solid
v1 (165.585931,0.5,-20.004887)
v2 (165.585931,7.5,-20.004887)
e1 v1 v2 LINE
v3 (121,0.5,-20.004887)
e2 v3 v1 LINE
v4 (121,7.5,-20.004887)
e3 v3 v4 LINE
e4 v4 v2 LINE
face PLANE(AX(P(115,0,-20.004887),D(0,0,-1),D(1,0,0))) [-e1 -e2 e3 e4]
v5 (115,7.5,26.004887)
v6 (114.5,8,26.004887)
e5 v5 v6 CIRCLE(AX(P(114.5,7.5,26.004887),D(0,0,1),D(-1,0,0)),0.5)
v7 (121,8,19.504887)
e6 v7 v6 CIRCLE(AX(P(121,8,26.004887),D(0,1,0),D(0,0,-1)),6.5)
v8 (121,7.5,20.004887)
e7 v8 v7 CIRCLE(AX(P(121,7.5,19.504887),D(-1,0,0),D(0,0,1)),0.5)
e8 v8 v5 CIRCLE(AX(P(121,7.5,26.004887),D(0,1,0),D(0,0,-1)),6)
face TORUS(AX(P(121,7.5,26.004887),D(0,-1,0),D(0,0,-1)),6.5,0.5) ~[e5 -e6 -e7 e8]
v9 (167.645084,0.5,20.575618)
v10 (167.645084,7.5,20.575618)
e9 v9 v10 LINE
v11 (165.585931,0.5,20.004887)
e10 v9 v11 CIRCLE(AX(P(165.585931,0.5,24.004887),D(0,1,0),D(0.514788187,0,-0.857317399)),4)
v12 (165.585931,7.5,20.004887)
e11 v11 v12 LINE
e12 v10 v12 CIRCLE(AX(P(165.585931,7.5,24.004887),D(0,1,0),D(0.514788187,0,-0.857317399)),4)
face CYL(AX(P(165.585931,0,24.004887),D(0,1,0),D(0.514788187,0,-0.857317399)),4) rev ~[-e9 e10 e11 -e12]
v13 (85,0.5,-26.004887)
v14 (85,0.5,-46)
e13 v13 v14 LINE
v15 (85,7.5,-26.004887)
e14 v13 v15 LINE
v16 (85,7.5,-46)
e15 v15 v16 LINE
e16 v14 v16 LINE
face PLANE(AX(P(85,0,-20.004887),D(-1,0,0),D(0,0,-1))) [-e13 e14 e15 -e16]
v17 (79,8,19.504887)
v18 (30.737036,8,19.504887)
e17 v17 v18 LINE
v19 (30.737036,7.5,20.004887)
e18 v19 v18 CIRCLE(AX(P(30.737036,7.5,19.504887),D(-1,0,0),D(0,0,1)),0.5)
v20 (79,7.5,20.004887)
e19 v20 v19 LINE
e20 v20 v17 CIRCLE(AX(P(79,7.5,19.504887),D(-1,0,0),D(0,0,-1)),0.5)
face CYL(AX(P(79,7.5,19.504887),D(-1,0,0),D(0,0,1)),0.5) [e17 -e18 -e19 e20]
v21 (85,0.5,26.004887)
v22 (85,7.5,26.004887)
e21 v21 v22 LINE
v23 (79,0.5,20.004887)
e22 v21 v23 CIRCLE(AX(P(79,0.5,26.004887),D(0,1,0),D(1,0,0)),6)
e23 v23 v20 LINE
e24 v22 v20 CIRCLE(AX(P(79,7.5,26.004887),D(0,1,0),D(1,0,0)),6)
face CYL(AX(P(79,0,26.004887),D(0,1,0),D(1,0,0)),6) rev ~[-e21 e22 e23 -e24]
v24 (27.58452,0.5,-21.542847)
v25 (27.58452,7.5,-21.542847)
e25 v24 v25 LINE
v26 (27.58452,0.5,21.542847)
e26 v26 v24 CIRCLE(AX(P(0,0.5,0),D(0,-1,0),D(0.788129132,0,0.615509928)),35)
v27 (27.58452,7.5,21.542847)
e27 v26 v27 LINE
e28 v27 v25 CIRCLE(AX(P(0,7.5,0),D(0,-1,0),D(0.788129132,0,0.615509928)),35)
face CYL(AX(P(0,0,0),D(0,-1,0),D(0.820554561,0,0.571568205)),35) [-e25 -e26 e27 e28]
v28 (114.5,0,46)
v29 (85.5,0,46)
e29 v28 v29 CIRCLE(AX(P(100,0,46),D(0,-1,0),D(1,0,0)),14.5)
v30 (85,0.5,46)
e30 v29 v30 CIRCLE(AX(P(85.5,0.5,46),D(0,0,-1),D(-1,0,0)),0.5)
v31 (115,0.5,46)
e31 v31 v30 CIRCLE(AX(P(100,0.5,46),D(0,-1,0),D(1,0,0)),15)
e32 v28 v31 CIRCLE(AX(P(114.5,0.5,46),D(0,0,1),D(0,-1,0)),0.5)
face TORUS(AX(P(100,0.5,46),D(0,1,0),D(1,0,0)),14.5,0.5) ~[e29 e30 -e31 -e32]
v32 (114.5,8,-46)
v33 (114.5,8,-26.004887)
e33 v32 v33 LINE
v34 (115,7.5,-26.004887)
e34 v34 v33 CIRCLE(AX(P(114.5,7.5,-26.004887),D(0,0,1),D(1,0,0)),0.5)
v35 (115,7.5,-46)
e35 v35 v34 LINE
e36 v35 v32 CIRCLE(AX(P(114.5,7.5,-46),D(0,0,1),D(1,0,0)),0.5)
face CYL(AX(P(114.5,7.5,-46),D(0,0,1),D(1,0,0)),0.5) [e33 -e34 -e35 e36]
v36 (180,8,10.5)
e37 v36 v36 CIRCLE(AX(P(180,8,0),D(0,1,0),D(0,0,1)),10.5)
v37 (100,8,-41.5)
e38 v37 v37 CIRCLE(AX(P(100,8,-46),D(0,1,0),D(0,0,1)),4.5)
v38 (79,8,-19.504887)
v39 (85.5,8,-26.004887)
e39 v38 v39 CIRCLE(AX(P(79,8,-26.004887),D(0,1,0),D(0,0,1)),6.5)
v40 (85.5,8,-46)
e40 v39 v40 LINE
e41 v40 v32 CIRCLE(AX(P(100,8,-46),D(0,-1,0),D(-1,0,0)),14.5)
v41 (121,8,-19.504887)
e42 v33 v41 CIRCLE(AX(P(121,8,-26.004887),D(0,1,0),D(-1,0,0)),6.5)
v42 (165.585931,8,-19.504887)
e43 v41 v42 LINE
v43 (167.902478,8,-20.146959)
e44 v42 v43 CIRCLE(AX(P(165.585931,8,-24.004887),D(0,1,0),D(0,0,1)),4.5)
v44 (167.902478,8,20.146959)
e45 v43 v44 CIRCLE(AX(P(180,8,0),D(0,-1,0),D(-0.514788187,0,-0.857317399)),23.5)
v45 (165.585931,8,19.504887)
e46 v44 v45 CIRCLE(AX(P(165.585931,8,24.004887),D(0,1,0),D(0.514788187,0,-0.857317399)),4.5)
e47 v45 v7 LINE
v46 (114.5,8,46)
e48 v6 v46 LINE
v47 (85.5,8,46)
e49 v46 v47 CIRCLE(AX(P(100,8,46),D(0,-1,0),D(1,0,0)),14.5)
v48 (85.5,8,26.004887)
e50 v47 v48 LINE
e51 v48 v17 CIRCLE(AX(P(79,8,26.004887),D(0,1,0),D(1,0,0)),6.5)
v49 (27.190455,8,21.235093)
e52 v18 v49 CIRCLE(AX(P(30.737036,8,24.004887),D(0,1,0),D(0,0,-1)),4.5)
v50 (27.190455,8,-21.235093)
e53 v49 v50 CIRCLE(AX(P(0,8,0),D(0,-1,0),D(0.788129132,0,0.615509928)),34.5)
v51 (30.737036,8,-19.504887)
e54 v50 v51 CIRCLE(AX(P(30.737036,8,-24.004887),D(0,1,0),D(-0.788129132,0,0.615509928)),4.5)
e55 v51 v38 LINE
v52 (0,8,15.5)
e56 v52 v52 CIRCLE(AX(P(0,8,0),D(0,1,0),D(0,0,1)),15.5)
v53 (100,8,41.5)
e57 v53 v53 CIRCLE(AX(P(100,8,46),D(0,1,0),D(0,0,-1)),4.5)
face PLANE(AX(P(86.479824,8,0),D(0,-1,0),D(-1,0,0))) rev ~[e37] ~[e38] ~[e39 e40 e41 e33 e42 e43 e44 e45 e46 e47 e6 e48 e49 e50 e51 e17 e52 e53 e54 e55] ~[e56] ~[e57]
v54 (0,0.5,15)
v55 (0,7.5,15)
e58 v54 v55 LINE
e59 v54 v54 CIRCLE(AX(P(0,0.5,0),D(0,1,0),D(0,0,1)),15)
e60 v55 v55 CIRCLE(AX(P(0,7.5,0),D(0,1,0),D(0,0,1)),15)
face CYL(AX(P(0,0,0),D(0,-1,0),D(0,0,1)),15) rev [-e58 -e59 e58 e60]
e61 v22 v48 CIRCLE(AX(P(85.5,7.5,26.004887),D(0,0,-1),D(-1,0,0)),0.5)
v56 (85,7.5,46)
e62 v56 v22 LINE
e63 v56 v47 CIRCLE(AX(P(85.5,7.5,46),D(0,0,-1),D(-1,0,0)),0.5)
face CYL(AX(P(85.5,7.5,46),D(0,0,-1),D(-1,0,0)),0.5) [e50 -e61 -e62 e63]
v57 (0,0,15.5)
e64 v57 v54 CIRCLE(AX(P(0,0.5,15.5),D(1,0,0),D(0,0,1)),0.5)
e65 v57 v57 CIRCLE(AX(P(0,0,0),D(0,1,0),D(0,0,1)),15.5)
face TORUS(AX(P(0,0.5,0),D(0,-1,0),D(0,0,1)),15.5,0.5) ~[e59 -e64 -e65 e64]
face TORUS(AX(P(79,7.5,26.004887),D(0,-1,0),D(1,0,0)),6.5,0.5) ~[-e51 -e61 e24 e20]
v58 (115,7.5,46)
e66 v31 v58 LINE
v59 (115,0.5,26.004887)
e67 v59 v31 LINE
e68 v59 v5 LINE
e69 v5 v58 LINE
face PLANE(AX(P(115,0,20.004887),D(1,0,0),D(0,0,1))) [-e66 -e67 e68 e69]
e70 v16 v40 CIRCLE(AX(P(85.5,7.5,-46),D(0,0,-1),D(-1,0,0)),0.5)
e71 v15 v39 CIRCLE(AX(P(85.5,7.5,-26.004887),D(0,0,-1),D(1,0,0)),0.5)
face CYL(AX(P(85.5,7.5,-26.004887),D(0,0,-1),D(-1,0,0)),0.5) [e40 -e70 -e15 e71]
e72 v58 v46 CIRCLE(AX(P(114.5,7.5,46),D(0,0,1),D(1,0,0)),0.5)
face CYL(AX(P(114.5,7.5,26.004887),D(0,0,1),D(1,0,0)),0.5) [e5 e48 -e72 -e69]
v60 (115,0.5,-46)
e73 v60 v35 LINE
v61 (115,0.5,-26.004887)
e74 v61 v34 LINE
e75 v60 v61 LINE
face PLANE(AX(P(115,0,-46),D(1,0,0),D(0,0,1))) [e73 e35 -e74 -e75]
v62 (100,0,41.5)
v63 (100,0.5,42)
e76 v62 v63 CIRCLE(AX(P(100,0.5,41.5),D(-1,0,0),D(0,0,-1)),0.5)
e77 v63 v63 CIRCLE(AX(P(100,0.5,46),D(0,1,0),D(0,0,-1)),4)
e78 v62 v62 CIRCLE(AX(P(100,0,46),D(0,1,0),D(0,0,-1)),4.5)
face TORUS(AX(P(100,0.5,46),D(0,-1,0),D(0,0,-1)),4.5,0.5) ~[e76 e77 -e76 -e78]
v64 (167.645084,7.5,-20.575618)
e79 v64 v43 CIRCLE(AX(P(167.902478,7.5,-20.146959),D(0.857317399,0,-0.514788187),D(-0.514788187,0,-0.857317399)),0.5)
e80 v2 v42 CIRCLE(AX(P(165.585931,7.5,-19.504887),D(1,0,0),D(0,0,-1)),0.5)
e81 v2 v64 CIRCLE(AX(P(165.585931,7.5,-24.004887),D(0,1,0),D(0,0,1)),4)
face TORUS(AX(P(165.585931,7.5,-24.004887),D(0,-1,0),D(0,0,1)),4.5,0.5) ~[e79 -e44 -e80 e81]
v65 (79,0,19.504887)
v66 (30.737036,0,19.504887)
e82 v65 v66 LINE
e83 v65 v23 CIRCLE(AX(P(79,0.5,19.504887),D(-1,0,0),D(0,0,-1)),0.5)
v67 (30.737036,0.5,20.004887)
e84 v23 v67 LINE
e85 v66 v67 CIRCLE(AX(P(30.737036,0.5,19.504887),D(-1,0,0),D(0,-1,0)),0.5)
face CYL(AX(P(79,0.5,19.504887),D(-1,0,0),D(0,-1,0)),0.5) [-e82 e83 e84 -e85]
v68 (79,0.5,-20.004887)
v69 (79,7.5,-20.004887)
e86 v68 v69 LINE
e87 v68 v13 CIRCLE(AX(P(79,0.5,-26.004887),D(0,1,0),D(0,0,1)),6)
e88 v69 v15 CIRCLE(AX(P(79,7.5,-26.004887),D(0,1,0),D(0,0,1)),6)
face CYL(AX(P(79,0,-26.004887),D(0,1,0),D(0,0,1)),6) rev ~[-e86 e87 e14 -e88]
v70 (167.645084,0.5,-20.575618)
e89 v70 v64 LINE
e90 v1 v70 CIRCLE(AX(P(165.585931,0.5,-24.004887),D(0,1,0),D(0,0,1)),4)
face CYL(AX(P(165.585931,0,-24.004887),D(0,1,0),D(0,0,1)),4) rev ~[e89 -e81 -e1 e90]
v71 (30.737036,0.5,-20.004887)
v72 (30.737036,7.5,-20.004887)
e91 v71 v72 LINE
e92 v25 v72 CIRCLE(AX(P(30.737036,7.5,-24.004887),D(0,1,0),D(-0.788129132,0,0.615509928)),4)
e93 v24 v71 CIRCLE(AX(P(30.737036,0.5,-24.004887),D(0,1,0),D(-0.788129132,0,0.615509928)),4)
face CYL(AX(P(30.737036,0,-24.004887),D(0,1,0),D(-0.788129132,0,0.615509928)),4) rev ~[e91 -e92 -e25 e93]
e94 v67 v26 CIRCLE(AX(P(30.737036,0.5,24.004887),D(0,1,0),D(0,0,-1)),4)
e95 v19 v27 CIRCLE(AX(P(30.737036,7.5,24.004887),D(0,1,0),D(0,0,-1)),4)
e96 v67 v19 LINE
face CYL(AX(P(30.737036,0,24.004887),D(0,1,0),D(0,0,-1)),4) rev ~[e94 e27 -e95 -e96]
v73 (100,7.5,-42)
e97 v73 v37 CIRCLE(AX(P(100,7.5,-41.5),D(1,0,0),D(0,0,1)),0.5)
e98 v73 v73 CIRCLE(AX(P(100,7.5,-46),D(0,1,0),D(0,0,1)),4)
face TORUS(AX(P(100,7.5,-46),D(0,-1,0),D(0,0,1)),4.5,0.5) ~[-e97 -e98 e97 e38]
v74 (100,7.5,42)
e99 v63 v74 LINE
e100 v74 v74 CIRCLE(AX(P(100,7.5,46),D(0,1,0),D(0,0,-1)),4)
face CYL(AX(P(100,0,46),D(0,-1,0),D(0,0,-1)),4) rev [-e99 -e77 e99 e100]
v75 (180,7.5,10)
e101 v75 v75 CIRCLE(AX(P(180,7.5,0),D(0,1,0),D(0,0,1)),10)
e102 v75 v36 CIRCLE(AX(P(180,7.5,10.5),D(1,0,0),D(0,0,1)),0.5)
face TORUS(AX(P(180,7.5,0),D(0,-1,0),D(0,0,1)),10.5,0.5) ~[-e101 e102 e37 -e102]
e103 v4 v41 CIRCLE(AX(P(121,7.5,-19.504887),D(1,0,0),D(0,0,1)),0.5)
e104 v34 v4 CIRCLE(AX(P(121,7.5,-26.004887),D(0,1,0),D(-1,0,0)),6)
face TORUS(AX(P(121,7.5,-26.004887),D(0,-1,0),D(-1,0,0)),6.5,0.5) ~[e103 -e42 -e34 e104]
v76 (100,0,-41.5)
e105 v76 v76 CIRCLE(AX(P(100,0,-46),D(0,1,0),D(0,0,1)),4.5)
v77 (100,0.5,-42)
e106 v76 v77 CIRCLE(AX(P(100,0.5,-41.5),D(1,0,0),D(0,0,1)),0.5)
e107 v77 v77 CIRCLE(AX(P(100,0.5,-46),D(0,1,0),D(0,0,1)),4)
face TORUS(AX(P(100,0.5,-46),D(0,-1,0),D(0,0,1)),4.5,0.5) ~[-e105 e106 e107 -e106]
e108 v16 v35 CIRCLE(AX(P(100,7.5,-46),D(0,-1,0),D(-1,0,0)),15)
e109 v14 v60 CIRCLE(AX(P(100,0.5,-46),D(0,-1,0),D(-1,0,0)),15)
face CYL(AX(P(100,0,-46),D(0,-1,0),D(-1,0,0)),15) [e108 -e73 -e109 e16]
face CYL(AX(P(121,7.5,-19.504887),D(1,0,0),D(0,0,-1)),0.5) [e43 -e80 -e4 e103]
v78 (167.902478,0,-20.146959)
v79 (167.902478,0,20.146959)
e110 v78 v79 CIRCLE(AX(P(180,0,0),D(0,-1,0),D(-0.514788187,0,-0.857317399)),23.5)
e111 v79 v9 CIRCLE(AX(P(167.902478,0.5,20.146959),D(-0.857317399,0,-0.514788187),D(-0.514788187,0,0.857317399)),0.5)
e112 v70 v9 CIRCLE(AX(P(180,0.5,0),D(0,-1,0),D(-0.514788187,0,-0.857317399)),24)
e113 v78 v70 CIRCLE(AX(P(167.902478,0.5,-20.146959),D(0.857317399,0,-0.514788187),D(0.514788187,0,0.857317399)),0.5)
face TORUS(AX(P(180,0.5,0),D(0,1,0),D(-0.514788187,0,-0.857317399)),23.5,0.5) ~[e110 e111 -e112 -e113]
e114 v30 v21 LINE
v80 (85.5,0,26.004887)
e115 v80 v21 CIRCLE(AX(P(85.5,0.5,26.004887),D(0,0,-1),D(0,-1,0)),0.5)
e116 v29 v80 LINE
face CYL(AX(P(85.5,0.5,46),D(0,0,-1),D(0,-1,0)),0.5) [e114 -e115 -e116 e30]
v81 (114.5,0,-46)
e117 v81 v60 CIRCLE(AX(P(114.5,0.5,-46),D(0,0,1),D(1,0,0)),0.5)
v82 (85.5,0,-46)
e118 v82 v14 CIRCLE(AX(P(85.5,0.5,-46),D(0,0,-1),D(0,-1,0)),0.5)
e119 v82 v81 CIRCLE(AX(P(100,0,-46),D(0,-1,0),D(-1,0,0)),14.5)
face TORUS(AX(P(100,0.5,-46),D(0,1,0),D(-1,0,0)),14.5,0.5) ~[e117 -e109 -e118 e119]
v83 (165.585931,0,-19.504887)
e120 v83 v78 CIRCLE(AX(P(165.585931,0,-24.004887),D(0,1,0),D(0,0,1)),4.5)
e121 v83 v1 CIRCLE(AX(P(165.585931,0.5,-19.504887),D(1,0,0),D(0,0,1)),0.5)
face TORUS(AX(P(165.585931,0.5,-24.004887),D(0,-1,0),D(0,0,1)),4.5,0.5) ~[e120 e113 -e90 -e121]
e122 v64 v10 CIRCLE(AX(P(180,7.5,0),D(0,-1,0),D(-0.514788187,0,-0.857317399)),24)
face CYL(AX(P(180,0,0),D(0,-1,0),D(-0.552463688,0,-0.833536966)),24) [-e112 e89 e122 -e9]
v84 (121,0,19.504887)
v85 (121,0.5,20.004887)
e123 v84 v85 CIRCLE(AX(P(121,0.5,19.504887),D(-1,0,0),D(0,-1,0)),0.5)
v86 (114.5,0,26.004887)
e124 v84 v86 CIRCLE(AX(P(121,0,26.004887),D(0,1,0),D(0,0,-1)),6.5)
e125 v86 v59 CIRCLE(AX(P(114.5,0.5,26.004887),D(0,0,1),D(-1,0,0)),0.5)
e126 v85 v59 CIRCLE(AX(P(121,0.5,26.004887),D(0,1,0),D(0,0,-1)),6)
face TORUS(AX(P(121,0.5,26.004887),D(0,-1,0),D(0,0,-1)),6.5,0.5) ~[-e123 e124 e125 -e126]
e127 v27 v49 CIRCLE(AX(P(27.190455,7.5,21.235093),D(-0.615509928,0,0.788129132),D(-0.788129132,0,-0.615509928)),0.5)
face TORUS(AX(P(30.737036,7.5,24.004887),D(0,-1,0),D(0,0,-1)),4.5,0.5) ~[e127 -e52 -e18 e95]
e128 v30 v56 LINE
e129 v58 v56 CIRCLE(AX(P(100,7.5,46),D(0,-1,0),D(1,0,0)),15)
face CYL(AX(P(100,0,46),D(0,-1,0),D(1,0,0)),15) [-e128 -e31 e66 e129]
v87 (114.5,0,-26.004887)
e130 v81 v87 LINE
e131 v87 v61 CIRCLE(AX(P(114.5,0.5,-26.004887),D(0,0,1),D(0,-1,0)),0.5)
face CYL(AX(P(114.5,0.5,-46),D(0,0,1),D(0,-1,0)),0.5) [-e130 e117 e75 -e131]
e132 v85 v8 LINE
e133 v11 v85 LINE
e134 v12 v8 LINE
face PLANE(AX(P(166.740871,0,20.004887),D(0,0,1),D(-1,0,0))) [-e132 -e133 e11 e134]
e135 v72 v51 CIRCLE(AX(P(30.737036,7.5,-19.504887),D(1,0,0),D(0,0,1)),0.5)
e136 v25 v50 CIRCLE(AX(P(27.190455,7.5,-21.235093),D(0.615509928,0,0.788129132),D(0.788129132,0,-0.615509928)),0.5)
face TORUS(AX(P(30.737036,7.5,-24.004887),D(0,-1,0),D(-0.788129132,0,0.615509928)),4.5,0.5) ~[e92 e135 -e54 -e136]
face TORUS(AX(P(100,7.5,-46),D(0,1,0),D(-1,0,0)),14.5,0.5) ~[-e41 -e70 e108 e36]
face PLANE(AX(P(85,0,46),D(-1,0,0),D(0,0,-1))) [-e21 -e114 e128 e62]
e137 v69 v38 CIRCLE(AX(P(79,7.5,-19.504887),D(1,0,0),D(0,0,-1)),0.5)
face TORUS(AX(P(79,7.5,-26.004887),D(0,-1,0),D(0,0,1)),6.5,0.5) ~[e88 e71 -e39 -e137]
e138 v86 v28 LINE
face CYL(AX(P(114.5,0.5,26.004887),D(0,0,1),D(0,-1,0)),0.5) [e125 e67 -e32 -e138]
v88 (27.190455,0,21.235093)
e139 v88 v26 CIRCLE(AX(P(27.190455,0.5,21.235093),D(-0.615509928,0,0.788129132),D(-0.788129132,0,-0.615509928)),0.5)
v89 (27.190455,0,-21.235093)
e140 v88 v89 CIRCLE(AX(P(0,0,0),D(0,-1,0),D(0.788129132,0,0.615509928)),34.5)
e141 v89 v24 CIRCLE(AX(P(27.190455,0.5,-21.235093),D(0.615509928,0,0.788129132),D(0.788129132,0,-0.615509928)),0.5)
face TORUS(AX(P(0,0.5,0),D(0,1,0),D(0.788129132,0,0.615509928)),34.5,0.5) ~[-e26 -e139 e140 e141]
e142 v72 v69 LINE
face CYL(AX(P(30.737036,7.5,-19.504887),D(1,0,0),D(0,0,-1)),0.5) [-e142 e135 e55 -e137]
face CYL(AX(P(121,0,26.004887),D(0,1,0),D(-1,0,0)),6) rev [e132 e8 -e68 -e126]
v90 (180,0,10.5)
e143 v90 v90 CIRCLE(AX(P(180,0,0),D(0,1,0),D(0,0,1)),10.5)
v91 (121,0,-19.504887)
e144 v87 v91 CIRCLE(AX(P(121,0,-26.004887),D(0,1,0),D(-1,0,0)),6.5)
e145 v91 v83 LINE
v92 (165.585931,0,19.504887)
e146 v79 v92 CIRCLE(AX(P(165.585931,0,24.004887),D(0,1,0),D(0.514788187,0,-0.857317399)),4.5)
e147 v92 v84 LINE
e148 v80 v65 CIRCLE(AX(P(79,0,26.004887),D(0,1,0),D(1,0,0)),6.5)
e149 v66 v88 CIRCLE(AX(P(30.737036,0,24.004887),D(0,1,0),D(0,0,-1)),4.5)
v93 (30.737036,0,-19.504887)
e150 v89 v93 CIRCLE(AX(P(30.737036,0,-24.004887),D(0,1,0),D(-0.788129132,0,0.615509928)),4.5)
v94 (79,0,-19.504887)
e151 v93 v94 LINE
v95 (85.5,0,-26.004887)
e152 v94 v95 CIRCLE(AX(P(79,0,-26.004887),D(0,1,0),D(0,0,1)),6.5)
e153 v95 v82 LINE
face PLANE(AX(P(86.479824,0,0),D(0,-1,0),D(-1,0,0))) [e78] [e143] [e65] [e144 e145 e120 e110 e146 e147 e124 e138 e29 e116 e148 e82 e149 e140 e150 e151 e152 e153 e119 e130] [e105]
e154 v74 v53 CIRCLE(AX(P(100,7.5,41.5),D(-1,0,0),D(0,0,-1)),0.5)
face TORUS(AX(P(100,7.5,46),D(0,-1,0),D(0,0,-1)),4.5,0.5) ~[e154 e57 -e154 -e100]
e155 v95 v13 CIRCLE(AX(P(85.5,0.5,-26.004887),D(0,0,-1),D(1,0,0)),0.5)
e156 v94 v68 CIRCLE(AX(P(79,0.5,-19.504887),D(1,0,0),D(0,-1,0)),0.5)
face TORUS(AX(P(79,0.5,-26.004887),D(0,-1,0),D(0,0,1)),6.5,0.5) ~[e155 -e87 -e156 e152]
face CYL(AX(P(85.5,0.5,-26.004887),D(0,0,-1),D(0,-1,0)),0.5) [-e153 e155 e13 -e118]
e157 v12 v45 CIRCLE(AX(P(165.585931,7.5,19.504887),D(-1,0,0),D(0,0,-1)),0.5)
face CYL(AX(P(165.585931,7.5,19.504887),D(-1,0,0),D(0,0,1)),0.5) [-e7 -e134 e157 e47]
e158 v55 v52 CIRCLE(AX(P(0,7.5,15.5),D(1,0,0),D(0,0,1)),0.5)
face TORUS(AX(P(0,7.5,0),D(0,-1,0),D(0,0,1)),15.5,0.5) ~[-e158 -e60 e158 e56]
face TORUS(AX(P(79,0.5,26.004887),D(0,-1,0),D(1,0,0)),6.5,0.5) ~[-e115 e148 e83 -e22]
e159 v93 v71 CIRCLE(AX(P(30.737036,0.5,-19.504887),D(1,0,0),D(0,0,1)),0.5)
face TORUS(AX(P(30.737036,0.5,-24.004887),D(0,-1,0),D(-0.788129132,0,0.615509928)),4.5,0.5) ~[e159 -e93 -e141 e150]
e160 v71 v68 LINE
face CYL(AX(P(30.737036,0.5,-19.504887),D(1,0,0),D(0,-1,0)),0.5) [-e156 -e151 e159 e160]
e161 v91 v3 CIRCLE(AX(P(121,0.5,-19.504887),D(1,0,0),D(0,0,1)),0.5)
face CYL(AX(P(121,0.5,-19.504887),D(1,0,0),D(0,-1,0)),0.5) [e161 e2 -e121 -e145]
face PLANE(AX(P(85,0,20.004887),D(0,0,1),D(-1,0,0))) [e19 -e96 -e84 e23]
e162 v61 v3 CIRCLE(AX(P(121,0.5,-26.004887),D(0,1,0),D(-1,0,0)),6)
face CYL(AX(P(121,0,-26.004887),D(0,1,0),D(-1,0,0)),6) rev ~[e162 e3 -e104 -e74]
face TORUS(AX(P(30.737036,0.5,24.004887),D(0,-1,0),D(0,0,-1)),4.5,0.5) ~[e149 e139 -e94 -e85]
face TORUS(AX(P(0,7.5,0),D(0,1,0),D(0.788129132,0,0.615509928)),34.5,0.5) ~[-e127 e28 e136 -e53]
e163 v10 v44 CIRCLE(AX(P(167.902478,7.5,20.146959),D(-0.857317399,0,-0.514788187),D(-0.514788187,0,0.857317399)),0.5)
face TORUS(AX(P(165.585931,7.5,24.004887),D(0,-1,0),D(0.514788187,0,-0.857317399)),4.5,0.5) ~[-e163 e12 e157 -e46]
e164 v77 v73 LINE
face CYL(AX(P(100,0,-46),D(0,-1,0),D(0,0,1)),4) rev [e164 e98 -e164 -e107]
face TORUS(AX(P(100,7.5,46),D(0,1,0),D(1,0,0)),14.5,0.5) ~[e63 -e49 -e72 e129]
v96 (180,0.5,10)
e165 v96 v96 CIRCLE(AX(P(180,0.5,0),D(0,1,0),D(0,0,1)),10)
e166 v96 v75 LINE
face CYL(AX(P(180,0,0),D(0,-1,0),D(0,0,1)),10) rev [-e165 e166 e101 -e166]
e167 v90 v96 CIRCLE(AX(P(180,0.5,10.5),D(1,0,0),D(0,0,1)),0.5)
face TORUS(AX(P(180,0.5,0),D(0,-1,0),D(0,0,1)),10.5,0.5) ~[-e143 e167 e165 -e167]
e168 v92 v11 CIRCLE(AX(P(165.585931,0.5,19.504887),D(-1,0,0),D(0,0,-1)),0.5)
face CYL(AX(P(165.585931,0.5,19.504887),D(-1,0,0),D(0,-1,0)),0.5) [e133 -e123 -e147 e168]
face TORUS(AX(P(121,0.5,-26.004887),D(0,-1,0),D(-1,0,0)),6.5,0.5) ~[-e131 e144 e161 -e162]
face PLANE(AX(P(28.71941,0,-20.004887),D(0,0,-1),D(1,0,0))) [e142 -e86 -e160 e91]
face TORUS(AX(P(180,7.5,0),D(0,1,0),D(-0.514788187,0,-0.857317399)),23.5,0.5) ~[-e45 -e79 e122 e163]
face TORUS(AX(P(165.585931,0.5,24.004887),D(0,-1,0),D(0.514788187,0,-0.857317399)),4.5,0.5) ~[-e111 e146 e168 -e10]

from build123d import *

# Parameters (mm, degrees)
SKETCH_1_R      = 15
SKETCH_1_R_2    = 4
SKETCH_1_R_3    = 10
EXTRUDE_1_DEPTH = 8
FILLET_3_R      = 6
FILLET_4_R      = 6
FILLET_5_R      = 6
FILLET_6_R      = 6
FILLET_8_R      = 4
FILLET_9_R      = 4
FILLET_10_R     = 4
FILLET_11_R     = 4
FILLET_12_R     = 0.5


with BuildPart() as part:
    # 草图1 → 凸台-拉伸1 (new body)
    with BuildSketch(Plane(origin=(0, 0, 0), x_dir=(1, 0, 0), z_dir=(0, 1, 0))):
        with BuildLine():
            Line((28.719409623, 20.004887175), (85, 20.004887175))
            Line((85, 20.004887175), (85, 46))
            ThreePointArc((85, 46), (100, 61), (115, 46))
            Line((115, 46), (115, 20.004887175))
            Line((115, 20.004887175), (166.74087148, 20.004887175))
            ThreePointArc((166.74087148, 20.004887175), (204, 0), (166.74087148, -20.004887175))
            Line((166.74087148, -20.004887175), (115, -20.004887175))
            Line((115, -20.004887175), (115, -46))
            ThreePointArc((115, -46), (100, -61), (85, -46))
            Line((85, -46), (85, -20.004887175))
            Line((85, -20.004887175), (28.719409623, -20.004887175))
            ThreePointArc((28.719409623, -20.004887175), (-35, 0), (28.719409623, 20.004887175))
        make_face()
        with Locations(Location((0, 0, 0), (0, 0, 270))):
            Circle(SKETCH_1_R, mode=Mode.SUBTRACT)
        with Locations(Location((100, 46, 0), (0, 0, 270))):
            Circle(SKETCH_1_R_2, mode=Mode.SUBTRACT)
        with Locations(Location((180, 0, 0), (0, 0, 270))):
            Circle(SKETCH_1_R_3, mode=Mode.SUBTRACT)
        with Locations(Location((100, -46, 0), (0, 0, 90))):
            Circle(SKETCH_1_R_2, mode=Mode.SUBTRACT)
    extrude(amount=EXTRUDE_1_DEPTH)

    # 圆角3
    fillet_3_edges = [part.edges().sort_by_distance(p)[0] for p in [
        (115, 4, 20.004887175),
    ]]
    fillet(fillet_3_edges, radius=FILLET_3_R)

    # 圆角4
    fillet_4_edges = [part.edges().sort_by_distance(p)[0] for p in [
        (85, 4, 20.004887175),
    ]]
    fillet(fillet_4_edges, radius=FILLET_4_R)

    # 圆角5
    fillet_5_edges = [part.edges().sort_by_distance(p)[0] for p in [
        (85, 4, -20.004887175),
    ]]
    fillet(fillet_5_edges, radius=FILLET_5_R)

    # 圆角6
    fillet_6_edges = [part.edges().sort_by_distance(p)[0] for p in [
        (115, 4, -20.004887175),
    ]]
    fillet(fillet_6_edges, radius=FILLET_6_R)

    # 圆角8
    fillet_8_edges = [part.edges().sort_by_distance(p)[0] for p in [
        (166.74087148, 4, -20.004887175),
    ]]
    fillet(fillet_8_edges, radius=FILLET_8_R)

    # 圆角9
    fillet_9_edges = [part.edges().sort_by_distance(p)[0] for p in [
        (166.74087148, 4, 20.004887175),
    ]]
    fillet(fillet_9_edges, radius=FILLET_9_R)

    # 圆角10
    fillet_10_edges = [part.edges().sort_by_distance(p)[0] for p in [
        (28.719409623, 4, 20.004887175),
    ]]
    fillet(fillet_10_edges, radius=FILLET_10_R)

    # 圆角11
    fillet_11_edges = [part.edges().sort_by_distance(p)[0] for p in [
        (28.719409623, 4, -20.004887175),
    ]]
    fillet(fillet_11_edges, radius=FILLET_11_R)

    # 圆角12
    fillet_12_edges = [part.edges().sort_by_distance(p)[0] for p in [
        (166.654322464, 0, -20.150209602),
        (204, 0, 0),
        (204, 8, 0),
        (166.654322464, 0, 20.150209602),
        (166.654322464, 8, 20.150209602),
        (85, 0, -36.002443588),
        (100, 0, -61),
        (54.868518078, 0, 20.004887175),
        (54.868518078, 8, 20.004887175),
        (28.983205897, 8, 20.409879606),
        (28.983205897, 0, 20.409879606),
        (100, 8, 61),
        (-35, 0, 0),
        (-35, 8, 0),
        (28.983205897, 0, -20.409879606),
        (28.983205897, 8, -20.409879606),
        (115, 0, 36.002443588),
        (100, 0, 61),
        (115, 8, 36.002443588),
        (0, 0, -15),
        (0, 8, -15),
        (100, 8, -61),
        (100, 0, -50),
        (100, 8, -50),
        (85, 8, -36.002443588),
        (180, 0, -10),
        (180, 8, -10),
        (100, 0, 50),
        (100, 8, 50),
        (143.292965386, 0, 20.004887175),
        (143.292965386, 8, 20.004887175),
        (116.757359313, 0, 21.762246488),
        (116.757359313, 8, 21.762246488),
        (85, 0, 36.002443588),
        (85, 8, 36.002443588),
        (83.242640687, 8, 21.762246488),
        (83.242640687, 0, 21.762246488),
        (54.868518078, 0, -20.004887175),
        (54.868518078, 8, -20.004887175),
        (83.242640687, 0, -21.762246488),
        (83.242640687, 8, -21.762246488),
        (115, 0, -36.002443588),
        (115, 8, -36.002443588),
        (116.757359313, 8, -21.762246488),
        (116.757359313, 0, -21.762246488),
        (143.292965386, 0, -20.004887175),
        (143.292965386, 8, -20.004887175),
        (166.654322464, 8, -20.150209602),
    ]]
    fillet(fillet_12_edges, radius=FILLET_12_R)


solid = part.part
